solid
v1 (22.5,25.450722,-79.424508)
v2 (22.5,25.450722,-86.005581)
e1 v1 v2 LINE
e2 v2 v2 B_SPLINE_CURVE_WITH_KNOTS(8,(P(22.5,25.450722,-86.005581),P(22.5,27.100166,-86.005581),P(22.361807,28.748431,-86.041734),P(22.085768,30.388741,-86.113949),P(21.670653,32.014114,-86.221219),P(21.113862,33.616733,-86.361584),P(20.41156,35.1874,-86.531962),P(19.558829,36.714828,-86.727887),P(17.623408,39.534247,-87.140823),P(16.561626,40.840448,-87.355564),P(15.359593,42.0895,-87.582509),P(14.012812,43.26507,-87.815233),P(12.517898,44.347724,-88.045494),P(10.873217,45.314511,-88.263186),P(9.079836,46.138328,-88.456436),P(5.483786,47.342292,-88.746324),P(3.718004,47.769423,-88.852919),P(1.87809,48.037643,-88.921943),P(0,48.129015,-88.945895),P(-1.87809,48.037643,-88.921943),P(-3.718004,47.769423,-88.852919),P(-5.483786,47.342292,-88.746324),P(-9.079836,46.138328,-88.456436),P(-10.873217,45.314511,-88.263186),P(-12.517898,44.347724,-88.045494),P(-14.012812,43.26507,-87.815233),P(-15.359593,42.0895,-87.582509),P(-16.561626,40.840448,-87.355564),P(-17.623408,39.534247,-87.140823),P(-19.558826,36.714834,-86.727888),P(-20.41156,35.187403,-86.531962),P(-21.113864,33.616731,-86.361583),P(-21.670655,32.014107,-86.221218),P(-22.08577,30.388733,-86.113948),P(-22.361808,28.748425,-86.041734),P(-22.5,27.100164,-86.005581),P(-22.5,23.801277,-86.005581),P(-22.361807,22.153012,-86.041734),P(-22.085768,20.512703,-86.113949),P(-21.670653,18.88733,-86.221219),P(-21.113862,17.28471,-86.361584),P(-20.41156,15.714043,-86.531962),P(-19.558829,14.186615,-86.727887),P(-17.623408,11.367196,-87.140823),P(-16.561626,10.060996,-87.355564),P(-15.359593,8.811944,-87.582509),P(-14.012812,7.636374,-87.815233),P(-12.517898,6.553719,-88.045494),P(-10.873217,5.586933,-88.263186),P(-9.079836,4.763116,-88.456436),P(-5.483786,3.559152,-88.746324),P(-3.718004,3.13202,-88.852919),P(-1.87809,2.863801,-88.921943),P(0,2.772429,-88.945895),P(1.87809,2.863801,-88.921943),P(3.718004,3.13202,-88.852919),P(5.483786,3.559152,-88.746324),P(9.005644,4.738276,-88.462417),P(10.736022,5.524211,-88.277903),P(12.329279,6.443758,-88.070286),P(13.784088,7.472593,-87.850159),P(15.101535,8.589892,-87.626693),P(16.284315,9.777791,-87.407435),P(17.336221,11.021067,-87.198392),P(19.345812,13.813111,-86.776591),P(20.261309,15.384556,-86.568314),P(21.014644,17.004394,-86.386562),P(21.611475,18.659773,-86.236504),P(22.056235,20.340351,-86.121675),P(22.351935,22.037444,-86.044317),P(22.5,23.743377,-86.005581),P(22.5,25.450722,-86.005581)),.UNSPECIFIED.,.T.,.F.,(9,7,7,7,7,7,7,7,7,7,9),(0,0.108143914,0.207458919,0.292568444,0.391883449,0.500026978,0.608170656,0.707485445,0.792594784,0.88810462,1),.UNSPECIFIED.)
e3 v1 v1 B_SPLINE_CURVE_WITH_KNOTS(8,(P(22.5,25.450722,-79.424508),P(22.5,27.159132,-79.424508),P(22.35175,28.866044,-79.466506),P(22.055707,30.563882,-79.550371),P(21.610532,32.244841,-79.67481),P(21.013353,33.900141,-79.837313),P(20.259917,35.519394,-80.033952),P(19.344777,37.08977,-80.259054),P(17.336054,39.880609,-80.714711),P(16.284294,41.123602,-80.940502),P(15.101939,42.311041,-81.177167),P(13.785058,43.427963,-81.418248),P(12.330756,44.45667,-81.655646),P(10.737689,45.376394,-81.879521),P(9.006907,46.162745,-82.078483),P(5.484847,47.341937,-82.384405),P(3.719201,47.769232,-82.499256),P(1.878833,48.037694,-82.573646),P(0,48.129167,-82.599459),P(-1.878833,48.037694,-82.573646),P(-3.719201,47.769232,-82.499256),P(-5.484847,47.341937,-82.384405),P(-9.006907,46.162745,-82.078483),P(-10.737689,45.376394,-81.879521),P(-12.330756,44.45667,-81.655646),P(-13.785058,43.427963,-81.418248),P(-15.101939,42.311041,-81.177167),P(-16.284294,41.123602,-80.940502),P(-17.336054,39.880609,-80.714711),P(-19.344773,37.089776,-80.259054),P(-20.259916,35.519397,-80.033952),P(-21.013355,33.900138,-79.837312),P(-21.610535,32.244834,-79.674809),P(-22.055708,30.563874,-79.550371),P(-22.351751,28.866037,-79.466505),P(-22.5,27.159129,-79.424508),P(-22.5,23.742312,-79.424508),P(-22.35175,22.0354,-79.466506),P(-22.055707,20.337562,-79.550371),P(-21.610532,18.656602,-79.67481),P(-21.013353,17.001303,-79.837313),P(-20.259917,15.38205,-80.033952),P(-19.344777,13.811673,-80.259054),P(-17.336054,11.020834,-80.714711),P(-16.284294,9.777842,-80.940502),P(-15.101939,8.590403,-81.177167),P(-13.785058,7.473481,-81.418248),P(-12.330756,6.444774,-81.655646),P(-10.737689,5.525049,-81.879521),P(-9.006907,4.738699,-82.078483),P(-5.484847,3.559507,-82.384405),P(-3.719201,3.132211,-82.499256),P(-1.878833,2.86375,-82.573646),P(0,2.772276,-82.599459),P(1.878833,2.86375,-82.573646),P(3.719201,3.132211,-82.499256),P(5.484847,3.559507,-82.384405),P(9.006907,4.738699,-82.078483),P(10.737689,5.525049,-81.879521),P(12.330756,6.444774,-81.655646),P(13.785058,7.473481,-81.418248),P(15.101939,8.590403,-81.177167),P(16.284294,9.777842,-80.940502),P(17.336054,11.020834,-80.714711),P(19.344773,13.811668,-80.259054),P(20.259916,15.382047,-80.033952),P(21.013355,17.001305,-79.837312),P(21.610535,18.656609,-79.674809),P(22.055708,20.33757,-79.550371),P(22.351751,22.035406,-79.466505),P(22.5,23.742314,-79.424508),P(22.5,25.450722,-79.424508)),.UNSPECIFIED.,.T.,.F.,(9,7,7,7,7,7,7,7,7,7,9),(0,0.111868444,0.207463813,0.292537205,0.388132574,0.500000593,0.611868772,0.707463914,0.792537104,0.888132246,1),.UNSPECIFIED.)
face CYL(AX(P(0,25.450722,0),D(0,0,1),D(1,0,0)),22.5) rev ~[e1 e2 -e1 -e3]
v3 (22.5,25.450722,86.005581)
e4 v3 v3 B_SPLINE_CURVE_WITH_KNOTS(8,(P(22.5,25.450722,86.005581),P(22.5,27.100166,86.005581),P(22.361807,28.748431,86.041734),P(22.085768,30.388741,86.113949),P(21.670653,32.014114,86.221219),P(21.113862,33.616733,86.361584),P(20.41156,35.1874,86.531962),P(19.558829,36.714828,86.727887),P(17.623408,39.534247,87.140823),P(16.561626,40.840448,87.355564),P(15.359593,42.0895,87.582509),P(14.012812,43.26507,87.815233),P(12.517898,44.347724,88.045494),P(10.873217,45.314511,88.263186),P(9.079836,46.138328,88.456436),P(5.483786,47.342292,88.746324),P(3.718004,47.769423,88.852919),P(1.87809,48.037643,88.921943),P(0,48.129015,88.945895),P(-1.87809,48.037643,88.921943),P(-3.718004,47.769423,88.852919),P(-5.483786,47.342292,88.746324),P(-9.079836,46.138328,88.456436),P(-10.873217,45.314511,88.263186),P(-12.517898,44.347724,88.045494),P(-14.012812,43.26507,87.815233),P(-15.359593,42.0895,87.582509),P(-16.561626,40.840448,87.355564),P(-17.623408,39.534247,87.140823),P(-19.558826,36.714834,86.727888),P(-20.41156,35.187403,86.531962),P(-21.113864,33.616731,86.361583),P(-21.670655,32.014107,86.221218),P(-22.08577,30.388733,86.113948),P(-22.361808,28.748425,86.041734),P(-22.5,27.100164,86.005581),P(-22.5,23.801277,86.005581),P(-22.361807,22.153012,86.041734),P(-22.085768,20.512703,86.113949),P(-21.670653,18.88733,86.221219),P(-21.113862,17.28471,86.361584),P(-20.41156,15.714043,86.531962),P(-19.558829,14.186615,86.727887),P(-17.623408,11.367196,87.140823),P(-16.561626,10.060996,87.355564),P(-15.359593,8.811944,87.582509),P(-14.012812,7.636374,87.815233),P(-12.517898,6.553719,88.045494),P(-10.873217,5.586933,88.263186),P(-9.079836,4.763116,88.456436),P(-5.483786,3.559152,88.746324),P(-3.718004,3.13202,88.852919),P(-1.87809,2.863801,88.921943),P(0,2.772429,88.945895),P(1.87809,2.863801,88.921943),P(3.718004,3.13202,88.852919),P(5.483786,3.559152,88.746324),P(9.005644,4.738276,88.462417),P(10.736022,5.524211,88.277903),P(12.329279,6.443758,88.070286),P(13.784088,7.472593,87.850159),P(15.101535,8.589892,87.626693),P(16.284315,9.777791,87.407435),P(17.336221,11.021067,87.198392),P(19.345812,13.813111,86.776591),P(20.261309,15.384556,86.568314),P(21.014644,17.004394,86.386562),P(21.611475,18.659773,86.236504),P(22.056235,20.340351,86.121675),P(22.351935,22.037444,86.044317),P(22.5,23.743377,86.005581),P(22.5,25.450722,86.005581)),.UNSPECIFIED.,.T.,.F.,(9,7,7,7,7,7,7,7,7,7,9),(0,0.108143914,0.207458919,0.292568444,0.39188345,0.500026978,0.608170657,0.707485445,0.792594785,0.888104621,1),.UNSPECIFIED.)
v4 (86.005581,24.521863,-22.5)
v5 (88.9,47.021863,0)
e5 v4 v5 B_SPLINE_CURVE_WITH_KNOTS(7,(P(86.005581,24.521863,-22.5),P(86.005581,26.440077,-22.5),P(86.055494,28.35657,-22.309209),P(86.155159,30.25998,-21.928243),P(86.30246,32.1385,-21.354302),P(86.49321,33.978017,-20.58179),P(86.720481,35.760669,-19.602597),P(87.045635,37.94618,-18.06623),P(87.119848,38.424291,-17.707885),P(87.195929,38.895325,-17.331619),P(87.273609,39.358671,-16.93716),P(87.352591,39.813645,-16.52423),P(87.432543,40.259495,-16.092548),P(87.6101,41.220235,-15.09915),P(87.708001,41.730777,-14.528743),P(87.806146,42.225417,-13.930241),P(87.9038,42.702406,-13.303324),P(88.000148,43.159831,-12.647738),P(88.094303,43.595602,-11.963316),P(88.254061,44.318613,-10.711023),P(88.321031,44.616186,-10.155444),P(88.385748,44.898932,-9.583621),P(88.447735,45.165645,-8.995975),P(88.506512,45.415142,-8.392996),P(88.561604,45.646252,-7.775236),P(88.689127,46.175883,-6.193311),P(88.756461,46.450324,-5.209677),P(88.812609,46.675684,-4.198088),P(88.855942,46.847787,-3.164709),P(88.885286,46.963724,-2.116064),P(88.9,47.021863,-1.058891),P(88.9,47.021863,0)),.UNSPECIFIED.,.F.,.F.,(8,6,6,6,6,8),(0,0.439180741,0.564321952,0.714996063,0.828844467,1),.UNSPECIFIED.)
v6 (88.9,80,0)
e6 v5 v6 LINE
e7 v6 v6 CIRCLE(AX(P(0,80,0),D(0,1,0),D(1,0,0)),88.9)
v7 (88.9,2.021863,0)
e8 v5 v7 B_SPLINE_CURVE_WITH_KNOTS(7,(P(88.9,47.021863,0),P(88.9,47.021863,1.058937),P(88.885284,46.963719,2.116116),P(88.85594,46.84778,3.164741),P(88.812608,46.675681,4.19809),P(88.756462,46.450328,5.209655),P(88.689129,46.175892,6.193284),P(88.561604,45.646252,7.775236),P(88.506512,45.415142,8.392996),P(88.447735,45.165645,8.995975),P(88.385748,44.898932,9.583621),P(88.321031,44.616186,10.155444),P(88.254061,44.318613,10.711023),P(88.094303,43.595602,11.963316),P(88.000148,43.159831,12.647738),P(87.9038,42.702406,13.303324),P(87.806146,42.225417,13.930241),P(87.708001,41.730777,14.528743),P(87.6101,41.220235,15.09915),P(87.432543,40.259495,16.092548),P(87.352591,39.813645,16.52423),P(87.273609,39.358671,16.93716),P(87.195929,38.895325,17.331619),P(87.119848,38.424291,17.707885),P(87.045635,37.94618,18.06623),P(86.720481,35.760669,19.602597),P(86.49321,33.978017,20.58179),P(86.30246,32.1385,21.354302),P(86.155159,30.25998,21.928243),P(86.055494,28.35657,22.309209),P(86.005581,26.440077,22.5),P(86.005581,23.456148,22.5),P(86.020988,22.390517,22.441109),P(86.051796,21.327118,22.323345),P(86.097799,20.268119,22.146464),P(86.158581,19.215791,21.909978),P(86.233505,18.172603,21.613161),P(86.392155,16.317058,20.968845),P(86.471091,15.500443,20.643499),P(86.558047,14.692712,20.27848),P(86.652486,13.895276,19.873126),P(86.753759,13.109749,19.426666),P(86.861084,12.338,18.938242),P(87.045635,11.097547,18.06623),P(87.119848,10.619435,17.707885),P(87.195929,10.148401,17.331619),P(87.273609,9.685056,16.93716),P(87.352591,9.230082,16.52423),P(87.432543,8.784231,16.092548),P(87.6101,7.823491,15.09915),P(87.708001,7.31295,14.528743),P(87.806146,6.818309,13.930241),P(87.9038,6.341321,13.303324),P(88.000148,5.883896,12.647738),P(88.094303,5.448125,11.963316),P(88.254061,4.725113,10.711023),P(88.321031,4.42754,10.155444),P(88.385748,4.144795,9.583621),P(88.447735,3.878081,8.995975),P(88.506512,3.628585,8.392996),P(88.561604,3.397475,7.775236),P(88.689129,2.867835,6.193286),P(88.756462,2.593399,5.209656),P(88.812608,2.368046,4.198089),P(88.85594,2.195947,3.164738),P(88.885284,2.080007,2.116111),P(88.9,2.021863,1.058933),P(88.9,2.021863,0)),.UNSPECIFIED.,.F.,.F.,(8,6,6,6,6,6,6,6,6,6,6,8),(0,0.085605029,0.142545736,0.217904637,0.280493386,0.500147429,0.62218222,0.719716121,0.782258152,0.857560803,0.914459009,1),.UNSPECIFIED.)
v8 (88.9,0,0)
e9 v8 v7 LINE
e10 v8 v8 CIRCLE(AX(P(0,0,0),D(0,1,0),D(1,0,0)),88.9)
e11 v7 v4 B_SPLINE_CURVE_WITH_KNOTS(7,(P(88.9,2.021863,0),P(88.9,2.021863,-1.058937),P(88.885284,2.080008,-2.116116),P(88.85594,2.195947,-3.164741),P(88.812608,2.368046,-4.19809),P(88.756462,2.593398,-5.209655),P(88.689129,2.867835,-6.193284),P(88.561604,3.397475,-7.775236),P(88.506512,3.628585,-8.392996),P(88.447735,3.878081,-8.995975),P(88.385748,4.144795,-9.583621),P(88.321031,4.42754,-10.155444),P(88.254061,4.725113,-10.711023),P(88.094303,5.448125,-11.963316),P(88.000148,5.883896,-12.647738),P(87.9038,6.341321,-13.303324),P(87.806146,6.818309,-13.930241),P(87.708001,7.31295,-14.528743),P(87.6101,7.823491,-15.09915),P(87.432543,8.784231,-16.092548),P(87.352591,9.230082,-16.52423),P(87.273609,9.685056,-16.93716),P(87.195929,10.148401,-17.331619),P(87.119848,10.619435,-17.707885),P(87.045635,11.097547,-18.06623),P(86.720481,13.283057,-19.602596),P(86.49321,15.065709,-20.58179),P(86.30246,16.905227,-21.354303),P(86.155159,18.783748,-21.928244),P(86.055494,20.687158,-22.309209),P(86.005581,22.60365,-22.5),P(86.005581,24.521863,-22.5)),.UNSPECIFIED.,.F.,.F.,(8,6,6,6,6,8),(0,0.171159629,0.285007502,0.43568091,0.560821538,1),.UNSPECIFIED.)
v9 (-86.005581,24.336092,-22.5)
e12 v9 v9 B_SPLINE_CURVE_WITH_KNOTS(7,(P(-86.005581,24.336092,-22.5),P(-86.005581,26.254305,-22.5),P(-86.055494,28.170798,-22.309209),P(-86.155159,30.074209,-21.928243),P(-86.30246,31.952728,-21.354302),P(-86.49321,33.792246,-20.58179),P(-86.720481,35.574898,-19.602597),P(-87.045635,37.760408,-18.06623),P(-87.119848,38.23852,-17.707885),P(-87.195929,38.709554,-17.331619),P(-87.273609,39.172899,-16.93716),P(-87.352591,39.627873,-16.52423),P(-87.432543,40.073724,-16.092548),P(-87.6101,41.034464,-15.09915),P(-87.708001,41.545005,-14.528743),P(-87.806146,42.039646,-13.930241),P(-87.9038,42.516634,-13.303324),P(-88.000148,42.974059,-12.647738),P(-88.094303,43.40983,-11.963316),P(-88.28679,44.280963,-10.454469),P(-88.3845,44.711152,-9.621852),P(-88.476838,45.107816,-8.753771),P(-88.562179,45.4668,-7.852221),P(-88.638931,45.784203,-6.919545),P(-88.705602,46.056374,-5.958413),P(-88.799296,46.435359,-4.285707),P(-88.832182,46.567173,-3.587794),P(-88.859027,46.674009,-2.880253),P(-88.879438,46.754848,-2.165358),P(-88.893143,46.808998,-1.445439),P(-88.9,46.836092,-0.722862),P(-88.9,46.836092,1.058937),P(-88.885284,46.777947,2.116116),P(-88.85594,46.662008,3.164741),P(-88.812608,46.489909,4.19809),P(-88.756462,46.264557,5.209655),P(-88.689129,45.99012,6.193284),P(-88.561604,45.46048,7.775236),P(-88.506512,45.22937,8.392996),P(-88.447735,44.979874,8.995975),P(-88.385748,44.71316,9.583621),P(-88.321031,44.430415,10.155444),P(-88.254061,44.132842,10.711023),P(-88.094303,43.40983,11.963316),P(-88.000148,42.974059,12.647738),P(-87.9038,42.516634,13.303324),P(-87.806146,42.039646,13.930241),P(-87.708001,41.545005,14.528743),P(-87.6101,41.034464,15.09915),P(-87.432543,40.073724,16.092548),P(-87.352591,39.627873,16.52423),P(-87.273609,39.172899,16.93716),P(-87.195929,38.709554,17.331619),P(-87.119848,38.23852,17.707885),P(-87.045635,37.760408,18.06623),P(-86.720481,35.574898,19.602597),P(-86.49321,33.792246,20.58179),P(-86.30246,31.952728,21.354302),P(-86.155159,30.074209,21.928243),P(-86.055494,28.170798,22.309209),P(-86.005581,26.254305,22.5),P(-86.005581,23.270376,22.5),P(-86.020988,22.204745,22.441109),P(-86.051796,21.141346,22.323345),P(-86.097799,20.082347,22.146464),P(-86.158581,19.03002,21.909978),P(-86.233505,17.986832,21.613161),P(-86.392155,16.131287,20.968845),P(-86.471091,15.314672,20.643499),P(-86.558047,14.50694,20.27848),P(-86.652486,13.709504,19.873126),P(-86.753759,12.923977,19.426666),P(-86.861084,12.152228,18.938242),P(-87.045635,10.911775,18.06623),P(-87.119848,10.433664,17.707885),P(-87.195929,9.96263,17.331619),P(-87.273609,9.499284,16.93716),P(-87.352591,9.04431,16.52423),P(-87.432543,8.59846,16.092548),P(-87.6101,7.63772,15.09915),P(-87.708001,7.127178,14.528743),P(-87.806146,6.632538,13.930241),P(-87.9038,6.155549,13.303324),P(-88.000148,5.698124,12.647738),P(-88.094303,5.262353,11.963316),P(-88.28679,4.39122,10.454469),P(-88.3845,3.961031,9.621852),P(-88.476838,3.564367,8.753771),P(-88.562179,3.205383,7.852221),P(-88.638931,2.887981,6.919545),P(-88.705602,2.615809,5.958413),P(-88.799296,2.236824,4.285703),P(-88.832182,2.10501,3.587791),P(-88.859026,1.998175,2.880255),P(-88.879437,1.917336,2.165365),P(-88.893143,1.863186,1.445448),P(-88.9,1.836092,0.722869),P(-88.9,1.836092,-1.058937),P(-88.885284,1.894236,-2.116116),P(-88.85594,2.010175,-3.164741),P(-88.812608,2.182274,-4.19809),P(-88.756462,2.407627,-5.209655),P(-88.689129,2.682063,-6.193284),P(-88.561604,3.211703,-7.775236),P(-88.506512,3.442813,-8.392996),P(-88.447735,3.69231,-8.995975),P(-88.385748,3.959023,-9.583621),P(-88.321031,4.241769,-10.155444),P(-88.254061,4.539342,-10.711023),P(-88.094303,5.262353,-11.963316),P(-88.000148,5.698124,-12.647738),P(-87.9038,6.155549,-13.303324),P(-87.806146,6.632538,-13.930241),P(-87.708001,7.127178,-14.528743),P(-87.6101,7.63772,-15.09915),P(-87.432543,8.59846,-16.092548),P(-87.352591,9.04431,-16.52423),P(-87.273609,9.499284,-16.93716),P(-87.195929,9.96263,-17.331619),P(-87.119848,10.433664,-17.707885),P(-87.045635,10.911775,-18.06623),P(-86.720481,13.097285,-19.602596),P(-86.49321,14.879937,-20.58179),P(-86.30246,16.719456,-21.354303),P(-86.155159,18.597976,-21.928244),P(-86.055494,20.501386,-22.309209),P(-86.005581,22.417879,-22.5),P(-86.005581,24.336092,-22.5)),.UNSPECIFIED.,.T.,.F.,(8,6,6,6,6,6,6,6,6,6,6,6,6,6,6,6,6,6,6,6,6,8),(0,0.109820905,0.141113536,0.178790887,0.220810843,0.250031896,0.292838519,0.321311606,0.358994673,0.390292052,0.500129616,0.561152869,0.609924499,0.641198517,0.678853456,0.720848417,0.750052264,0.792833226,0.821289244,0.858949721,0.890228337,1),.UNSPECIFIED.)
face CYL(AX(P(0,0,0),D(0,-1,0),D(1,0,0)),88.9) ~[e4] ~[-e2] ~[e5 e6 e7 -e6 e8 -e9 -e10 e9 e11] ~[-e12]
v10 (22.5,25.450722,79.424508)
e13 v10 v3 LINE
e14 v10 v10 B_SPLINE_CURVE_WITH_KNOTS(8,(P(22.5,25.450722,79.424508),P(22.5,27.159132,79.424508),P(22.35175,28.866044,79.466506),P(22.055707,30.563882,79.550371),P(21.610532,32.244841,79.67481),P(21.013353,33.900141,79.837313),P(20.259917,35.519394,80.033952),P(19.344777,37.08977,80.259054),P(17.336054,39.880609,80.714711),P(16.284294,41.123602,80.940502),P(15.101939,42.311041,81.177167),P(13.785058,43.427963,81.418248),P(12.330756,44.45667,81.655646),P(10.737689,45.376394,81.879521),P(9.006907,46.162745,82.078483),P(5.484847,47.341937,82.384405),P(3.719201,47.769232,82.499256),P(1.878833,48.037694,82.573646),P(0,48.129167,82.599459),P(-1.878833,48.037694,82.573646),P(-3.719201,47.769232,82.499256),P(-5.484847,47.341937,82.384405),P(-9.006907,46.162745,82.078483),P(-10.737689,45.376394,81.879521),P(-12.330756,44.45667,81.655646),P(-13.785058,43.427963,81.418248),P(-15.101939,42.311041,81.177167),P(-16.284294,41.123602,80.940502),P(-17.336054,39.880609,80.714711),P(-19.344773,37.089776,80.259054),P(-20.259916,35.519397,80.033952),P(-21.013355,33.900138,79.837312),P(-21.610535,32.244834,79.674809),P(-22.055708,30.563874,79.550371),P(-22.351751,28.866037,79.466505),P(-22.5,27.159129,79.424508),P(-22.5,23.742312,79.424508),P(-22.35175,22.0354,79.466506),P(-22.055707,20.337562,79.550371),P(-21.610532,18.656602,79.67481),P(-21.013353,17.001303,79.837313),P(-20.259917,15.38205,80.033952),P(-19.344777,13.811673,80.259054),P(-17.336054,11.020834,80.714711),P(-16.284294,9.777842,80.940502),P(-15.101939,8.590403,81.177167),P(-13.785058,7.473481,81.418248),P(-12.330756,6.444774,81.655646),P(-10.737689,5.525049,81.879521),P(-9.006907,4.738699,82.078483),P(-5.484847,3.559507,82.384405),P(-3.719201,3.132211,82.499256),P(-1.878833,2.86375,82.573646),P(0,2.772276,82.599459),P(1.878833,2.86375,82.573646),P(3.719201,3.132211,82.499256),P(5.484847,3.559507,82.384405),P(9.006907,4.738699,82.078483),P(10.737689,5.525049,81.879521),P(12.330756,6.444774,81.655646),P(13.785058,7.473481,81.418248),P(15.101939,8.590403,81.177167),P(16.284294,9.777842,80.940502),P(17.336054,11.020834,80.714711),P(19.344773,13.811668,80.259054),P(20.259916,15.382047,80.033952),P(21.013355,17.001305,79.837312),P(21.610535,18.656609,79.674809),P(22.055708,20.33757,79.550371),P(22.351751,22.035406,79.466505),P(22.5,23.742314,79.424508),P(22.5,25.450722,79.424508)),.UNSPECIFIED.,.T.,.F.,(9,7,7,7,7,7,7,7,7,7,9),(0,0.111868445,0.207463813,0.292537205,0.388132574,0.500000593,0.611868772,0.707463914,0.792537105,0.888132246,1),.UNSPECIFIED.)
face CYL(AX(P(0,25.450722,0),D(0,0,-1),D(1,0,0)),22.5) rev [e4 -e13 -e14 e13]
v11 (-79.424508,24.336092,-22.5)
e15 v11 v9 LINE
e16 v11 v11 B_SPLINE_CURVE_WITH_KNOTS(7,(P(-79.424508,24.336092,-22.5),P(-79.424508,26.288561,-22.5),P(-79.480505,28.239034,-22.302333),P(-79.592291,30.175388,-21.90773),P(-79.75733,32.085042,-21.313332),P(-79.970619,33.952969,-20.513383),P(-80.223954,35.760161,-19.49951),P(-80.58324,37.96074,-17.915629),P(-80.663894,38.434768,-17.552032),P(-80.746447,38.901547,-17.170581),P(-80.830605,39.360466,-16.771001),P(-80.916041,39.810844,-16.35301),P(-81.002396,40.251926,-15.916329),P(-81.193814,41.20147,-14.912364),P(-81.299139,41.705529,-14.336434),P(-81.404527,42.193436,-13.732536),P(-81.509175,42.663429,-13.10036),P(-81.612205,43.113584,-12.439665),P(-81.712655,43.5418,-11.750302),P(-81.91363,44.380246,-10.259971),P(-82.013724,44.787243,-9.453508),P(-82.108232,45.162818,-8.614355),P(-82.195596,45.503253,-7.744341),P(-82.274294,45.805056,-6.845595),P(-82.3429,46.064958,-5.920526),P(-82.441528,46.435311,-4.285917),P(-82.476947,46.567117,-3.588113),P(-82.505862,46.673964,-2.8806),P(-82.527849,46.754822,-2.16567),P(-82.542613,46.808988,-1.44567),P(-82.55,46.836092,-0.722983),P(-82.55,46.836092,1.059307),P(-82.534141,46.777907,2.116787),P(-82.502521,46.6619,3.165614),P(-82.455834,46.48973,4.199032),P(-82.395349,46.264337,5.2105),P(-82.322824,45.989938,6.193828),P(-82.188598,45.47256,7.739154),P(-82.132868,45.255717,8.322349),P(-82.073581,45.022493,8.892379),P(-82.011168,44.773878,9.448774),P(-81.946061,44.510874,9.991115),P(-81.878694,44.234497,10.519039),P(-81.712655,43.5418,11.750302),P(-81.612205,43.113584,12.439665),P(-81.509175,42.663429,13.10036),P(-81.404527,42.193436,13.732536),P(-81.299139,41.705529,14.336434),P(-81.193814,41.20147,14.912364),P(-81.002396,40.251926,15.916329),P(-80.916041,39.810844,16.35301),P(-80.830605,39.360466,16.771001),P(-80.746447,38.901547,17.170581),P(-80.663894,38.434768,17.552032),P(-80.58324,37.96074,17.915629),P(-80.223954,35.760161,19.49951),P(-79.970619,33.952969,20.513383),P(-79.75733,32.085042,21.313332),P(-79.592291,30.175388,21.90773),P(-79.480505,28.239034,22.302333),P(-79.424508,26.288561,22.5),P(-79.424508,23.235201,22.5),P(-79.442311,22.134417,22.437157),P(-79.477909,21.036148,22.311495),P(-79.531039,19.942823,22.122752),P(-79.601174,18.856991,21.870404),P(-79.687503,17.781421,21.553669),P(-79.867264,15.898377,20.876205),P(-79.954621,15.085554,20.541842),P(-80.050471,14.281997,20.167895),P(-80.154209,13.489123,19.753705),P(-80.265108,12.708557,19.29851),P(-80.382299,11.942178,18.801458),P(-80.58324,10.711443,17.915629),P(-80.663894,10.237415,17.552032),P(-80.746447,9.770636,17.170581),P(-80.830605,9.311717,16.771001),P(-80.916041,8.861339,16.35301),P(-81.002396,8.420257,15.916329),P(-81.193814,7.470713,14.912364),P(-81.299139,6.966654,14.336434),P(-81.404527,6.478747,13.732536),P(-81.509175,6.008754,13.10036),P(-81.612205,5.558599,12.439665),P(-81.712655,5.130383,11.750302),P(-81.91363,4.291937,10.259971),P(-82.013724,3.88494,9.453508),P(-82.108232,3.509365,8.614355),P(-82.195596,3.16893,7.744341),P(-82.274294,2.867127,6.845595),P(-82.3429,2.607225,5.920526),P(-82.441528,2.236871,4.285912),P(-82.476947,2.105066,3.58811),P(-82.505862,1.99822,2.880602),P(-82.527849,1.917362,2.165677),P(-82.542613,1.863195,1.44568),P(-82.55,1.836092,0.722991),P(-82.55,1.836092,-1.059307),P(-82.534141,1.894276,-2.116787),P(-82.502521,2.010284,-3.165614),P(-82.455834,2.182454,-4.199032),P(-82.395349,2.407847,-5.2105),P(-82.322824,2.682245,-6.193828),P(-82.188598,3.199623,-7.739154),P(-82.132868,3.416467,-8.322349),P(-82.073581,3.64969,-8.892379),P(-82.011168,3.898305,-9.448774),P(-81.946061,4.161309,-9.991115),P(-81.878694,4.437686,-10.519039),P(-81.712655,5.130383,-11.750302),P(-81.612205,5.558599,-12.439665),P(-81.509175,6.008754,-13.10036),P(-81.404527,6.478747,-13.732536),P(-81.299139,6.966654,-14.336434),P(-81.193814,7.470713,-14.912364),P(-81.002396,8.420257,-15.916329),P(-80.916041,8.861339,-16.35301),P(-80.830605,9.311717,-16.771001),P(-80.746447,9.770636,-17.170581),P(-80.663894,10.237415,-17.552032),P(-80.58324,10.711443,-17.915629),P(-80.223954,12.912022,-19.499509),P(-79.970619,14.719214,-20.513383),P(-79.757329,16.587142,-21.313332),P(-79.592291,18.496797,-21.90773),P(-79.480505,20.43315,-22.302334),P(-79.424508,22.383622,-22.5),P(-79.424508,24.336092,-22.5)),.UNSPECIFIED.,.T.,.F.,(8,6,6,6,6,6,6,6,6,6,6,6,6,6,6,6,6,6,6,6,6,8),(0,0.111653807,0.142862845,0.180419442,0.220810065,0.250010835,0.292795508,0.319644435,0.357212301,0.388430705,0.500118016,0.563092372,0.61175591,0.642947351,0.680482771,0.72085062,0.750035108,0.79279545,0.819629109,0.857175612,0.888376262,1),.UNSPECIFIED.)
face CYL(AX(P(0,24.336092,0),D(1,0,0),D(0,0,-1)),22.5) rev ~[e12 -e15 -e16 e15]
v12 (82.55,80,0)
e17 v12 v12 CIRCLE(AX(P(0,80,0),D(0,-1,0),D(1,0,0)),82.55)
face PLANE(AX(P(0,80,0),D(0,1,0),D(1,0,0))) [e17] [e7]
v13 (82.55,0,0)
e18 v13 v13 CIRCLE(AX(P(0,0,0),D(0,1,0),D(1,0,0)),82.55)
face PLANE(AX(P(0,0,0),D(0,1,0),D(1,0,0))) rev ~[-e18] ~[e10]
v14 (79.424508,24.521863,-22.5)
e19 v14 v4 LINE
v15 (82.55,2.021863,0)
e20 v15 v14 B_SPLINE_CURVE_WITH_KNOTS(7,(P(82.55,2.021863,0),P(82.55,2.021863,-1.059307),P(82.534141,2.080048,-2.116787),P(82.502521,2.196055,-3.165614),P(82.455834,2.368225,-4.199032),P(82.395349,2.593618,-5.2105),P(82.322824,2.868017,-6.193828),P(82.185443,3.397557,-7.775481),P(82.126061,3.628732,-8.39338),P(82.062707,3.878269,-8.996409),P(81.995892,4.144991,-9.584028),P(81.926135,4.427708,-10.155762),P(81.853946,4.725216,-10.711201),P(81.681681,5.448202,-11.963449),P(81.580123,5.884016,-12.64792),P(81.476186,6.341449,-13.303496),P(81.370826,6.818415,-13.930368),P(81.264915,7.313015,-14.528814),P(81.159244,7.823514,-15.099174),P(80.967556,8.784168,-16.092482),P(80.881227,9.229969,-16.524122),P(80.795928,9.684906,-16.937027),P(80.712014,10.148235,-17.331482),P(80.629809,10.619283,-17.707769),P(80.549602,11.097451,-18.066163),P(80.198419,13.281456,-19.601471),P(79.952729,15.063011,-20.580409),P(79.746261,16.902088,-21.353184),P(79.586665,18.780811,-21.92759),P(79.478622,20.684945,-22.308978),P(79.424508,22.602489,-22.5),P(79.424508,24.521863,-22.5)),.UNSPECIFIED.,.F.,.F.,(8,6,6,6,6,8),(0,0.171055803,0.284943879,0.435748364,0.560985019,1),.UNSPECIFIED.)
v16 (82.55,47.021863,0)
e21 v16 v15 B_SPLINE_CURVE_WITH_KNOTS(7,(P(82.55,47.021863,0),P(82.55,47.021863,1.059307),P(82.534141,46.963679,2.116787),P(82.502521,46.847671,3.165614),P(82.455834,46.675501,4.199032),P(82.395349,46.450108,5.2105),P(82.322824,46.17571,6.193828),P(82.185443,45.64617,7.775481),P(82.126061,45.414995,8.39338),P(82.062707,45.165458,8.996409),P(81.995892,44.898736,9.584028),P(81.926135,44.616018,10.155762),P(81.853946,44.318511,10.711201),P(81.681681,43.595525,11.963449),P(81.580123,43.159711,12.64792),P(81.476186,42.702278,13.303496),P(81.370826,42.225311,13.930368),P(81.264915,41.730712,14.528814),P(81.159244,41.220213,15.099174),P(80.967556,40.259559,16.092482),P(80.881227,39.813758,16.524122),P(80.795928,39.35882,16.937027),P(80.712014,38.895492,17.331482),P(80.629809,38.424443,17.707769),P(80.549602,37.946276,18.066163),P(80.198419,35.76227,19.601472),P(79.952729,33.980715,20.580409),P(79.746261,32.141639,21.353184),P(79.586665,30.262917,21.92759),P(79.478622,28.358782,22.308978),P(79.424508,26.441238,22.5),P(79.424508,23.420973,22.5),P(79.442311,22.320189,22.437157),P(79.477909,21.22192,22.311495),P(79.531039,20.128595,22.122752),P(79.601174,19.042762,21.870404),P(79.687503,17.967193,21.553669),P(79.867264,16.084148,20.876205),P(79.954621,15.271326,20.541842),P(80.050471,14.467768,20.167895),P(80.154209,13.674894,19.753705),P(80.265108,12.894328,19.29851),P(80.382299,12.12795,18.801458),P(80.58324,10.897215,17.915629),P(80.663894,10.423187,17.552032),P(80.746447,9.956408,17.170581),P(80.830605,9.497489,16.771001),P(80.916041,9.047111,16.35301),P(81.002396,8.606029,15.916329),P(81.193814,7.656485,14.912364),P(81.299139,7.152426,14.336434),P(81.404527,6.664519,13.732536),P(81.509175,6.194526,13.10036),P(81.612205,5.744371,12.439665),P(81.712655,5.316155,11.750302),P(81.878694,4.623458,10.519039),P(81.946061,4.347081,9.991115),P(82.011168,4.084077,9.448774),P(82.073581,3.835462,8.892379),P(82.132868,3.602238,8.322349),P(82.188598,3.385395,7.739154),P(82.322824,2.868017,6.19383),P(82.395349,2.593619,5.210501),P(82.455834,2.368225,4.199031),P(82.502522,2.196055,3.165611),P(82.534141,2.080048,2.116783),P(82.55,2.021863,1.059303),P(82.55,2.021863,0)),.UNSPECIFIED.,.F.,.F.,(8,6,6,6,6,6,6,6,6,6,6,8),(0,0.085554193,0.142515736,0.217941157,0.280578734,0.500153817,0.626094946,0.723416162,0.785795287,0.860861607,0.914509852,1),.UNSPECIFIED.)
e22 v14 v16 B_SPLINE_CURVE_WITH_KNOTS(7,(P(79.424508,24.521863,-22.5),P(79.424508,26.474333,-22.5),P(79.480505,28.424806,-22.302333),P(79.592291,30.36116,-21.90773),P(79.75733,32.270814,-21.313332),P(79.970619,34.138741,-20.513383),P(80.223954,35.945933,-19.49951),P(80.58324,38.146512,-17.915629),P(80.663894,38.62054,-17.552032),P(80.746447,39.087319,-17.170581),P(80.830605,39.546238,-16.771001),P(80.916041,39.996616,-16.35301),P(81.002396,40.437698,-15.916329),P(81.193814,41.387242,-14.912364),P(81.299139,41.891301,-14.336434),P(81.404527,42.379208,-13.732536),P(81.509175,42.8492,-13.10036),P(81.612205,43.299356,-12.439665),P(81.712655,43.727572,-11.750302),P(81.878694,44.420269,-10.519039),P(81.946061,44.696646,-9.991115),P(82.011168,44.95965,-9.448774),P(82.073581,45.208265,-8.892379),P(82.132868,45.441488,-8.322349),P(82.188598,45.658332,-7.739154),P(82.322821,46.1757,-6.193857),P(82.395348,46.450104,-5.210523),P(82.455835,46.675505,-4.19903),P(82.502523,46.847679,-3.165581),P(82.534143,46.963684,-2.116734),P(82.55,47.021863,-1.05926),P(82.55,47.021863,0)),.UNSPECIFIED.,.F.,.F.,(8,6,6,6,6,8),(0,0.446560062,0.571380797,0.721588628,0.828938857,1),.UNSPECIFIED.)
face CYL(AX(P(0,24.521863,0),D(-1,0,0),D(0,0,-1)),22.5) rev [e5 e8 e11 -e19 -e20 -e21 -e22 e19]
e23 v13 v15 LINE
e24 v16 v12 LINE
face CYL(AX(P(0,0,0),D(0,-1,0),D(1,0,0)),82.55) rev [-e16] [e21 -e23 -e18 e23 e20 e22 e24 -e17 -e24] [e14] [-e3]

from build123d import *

# Parameters (mm, degrees)
SKETCH1_R           = 88.9
BOSS_EXTRUDE1_DEPTH = 80
SKETCH2_R           = 82.55
CUT_EXTRUDE4_DEPTH  = 90
SKETCH12_R          = 22.5
CUT_EXTRUDE5_DEPTH  = 115.64
SKETCH13_R          = 22.5
CUT_EXTRUDE6_DEPTH  = 115.64
SKETCH14_R          = 22.5
CUT_EXTRUDE7_DEPTH  = 99.64
CUT_EXTRUDE8_START  = 137.64
SKETCH15_R          = 22.5
CUT_EXTRUDE8_DEPTH  = 137.64


with BuildPart() as part:
    # Sketch1 → Boss-Extrude1 (new body)
    with BuildSketch(Plane(origin=(0, 0, 0), x_dir=(1, 0, 0), z_dir=(0, 1, 0))):
        Circle(SKETCH1_R)
    extrude(amount=BOSS_EXTRUDE1_DEPTH)

    # Sketch2 → Cut-Extrude4 (cut)
    with BuildSketch(Plane(origin=(0, 0, 0), x_dir=(1, 0, 0), z_dir=(0, 1, 0))):
        Circle(SKETCH2_R)
    extrude(amount=CUT_EXTRUDE4_DEPTH, mode=Mode.SUBTRACT)

    # Sketch12 → Cut-Extrude5 (cut)
    with BuildSketch(Plane(origin=(0, 0, 0), x_dir=(0, 0, -1), z_dir=(1, 0, 0))):
        with Locations((0, 24.336091646)):
            Circle(SKETCH12_R)
    extrude(amount=-CUT_EXTRUDE5_DEPTH, mode=Mode.SUBTRACT)

    # Sketch13 → Cut-Extrude6 (cut)
    with BuildSketch(Plane.XY):
        with Locations((0, 25.450721797)):
            Circle(SKETCH13_R)
    extrude(amount=-CUT_EXTRUDE6_DEPTH, mode=Mode.SUBTRACT)

    # Sketch14 → Cut-Extrude7 (cut)
    with BuildSketch(Plane(origin=(0, 0, 0), x_dir=(0, 0, -1), z_dir=(1, 0, 0))):
        with Locations((0, 24.521863338)):
            Circle(SKETCH14_R)
    extrude(amount=CUT_EXTRUDE7_DEPTH, mode=Mode.SUBTRACT)

    # Sketch15 → Cut-Extrude8 (cut)
    with BuildSketch(Plane.XY.offset(CUT_EXTRUDE8_START)):
        with Locations((0, 25.450721797)):
            Circle(SKETCH15_R)
    extrude(amount=-CUT_EXTRUDE8_DEPTH, mode=Mode.SUBTRACT)


solid = part.part
